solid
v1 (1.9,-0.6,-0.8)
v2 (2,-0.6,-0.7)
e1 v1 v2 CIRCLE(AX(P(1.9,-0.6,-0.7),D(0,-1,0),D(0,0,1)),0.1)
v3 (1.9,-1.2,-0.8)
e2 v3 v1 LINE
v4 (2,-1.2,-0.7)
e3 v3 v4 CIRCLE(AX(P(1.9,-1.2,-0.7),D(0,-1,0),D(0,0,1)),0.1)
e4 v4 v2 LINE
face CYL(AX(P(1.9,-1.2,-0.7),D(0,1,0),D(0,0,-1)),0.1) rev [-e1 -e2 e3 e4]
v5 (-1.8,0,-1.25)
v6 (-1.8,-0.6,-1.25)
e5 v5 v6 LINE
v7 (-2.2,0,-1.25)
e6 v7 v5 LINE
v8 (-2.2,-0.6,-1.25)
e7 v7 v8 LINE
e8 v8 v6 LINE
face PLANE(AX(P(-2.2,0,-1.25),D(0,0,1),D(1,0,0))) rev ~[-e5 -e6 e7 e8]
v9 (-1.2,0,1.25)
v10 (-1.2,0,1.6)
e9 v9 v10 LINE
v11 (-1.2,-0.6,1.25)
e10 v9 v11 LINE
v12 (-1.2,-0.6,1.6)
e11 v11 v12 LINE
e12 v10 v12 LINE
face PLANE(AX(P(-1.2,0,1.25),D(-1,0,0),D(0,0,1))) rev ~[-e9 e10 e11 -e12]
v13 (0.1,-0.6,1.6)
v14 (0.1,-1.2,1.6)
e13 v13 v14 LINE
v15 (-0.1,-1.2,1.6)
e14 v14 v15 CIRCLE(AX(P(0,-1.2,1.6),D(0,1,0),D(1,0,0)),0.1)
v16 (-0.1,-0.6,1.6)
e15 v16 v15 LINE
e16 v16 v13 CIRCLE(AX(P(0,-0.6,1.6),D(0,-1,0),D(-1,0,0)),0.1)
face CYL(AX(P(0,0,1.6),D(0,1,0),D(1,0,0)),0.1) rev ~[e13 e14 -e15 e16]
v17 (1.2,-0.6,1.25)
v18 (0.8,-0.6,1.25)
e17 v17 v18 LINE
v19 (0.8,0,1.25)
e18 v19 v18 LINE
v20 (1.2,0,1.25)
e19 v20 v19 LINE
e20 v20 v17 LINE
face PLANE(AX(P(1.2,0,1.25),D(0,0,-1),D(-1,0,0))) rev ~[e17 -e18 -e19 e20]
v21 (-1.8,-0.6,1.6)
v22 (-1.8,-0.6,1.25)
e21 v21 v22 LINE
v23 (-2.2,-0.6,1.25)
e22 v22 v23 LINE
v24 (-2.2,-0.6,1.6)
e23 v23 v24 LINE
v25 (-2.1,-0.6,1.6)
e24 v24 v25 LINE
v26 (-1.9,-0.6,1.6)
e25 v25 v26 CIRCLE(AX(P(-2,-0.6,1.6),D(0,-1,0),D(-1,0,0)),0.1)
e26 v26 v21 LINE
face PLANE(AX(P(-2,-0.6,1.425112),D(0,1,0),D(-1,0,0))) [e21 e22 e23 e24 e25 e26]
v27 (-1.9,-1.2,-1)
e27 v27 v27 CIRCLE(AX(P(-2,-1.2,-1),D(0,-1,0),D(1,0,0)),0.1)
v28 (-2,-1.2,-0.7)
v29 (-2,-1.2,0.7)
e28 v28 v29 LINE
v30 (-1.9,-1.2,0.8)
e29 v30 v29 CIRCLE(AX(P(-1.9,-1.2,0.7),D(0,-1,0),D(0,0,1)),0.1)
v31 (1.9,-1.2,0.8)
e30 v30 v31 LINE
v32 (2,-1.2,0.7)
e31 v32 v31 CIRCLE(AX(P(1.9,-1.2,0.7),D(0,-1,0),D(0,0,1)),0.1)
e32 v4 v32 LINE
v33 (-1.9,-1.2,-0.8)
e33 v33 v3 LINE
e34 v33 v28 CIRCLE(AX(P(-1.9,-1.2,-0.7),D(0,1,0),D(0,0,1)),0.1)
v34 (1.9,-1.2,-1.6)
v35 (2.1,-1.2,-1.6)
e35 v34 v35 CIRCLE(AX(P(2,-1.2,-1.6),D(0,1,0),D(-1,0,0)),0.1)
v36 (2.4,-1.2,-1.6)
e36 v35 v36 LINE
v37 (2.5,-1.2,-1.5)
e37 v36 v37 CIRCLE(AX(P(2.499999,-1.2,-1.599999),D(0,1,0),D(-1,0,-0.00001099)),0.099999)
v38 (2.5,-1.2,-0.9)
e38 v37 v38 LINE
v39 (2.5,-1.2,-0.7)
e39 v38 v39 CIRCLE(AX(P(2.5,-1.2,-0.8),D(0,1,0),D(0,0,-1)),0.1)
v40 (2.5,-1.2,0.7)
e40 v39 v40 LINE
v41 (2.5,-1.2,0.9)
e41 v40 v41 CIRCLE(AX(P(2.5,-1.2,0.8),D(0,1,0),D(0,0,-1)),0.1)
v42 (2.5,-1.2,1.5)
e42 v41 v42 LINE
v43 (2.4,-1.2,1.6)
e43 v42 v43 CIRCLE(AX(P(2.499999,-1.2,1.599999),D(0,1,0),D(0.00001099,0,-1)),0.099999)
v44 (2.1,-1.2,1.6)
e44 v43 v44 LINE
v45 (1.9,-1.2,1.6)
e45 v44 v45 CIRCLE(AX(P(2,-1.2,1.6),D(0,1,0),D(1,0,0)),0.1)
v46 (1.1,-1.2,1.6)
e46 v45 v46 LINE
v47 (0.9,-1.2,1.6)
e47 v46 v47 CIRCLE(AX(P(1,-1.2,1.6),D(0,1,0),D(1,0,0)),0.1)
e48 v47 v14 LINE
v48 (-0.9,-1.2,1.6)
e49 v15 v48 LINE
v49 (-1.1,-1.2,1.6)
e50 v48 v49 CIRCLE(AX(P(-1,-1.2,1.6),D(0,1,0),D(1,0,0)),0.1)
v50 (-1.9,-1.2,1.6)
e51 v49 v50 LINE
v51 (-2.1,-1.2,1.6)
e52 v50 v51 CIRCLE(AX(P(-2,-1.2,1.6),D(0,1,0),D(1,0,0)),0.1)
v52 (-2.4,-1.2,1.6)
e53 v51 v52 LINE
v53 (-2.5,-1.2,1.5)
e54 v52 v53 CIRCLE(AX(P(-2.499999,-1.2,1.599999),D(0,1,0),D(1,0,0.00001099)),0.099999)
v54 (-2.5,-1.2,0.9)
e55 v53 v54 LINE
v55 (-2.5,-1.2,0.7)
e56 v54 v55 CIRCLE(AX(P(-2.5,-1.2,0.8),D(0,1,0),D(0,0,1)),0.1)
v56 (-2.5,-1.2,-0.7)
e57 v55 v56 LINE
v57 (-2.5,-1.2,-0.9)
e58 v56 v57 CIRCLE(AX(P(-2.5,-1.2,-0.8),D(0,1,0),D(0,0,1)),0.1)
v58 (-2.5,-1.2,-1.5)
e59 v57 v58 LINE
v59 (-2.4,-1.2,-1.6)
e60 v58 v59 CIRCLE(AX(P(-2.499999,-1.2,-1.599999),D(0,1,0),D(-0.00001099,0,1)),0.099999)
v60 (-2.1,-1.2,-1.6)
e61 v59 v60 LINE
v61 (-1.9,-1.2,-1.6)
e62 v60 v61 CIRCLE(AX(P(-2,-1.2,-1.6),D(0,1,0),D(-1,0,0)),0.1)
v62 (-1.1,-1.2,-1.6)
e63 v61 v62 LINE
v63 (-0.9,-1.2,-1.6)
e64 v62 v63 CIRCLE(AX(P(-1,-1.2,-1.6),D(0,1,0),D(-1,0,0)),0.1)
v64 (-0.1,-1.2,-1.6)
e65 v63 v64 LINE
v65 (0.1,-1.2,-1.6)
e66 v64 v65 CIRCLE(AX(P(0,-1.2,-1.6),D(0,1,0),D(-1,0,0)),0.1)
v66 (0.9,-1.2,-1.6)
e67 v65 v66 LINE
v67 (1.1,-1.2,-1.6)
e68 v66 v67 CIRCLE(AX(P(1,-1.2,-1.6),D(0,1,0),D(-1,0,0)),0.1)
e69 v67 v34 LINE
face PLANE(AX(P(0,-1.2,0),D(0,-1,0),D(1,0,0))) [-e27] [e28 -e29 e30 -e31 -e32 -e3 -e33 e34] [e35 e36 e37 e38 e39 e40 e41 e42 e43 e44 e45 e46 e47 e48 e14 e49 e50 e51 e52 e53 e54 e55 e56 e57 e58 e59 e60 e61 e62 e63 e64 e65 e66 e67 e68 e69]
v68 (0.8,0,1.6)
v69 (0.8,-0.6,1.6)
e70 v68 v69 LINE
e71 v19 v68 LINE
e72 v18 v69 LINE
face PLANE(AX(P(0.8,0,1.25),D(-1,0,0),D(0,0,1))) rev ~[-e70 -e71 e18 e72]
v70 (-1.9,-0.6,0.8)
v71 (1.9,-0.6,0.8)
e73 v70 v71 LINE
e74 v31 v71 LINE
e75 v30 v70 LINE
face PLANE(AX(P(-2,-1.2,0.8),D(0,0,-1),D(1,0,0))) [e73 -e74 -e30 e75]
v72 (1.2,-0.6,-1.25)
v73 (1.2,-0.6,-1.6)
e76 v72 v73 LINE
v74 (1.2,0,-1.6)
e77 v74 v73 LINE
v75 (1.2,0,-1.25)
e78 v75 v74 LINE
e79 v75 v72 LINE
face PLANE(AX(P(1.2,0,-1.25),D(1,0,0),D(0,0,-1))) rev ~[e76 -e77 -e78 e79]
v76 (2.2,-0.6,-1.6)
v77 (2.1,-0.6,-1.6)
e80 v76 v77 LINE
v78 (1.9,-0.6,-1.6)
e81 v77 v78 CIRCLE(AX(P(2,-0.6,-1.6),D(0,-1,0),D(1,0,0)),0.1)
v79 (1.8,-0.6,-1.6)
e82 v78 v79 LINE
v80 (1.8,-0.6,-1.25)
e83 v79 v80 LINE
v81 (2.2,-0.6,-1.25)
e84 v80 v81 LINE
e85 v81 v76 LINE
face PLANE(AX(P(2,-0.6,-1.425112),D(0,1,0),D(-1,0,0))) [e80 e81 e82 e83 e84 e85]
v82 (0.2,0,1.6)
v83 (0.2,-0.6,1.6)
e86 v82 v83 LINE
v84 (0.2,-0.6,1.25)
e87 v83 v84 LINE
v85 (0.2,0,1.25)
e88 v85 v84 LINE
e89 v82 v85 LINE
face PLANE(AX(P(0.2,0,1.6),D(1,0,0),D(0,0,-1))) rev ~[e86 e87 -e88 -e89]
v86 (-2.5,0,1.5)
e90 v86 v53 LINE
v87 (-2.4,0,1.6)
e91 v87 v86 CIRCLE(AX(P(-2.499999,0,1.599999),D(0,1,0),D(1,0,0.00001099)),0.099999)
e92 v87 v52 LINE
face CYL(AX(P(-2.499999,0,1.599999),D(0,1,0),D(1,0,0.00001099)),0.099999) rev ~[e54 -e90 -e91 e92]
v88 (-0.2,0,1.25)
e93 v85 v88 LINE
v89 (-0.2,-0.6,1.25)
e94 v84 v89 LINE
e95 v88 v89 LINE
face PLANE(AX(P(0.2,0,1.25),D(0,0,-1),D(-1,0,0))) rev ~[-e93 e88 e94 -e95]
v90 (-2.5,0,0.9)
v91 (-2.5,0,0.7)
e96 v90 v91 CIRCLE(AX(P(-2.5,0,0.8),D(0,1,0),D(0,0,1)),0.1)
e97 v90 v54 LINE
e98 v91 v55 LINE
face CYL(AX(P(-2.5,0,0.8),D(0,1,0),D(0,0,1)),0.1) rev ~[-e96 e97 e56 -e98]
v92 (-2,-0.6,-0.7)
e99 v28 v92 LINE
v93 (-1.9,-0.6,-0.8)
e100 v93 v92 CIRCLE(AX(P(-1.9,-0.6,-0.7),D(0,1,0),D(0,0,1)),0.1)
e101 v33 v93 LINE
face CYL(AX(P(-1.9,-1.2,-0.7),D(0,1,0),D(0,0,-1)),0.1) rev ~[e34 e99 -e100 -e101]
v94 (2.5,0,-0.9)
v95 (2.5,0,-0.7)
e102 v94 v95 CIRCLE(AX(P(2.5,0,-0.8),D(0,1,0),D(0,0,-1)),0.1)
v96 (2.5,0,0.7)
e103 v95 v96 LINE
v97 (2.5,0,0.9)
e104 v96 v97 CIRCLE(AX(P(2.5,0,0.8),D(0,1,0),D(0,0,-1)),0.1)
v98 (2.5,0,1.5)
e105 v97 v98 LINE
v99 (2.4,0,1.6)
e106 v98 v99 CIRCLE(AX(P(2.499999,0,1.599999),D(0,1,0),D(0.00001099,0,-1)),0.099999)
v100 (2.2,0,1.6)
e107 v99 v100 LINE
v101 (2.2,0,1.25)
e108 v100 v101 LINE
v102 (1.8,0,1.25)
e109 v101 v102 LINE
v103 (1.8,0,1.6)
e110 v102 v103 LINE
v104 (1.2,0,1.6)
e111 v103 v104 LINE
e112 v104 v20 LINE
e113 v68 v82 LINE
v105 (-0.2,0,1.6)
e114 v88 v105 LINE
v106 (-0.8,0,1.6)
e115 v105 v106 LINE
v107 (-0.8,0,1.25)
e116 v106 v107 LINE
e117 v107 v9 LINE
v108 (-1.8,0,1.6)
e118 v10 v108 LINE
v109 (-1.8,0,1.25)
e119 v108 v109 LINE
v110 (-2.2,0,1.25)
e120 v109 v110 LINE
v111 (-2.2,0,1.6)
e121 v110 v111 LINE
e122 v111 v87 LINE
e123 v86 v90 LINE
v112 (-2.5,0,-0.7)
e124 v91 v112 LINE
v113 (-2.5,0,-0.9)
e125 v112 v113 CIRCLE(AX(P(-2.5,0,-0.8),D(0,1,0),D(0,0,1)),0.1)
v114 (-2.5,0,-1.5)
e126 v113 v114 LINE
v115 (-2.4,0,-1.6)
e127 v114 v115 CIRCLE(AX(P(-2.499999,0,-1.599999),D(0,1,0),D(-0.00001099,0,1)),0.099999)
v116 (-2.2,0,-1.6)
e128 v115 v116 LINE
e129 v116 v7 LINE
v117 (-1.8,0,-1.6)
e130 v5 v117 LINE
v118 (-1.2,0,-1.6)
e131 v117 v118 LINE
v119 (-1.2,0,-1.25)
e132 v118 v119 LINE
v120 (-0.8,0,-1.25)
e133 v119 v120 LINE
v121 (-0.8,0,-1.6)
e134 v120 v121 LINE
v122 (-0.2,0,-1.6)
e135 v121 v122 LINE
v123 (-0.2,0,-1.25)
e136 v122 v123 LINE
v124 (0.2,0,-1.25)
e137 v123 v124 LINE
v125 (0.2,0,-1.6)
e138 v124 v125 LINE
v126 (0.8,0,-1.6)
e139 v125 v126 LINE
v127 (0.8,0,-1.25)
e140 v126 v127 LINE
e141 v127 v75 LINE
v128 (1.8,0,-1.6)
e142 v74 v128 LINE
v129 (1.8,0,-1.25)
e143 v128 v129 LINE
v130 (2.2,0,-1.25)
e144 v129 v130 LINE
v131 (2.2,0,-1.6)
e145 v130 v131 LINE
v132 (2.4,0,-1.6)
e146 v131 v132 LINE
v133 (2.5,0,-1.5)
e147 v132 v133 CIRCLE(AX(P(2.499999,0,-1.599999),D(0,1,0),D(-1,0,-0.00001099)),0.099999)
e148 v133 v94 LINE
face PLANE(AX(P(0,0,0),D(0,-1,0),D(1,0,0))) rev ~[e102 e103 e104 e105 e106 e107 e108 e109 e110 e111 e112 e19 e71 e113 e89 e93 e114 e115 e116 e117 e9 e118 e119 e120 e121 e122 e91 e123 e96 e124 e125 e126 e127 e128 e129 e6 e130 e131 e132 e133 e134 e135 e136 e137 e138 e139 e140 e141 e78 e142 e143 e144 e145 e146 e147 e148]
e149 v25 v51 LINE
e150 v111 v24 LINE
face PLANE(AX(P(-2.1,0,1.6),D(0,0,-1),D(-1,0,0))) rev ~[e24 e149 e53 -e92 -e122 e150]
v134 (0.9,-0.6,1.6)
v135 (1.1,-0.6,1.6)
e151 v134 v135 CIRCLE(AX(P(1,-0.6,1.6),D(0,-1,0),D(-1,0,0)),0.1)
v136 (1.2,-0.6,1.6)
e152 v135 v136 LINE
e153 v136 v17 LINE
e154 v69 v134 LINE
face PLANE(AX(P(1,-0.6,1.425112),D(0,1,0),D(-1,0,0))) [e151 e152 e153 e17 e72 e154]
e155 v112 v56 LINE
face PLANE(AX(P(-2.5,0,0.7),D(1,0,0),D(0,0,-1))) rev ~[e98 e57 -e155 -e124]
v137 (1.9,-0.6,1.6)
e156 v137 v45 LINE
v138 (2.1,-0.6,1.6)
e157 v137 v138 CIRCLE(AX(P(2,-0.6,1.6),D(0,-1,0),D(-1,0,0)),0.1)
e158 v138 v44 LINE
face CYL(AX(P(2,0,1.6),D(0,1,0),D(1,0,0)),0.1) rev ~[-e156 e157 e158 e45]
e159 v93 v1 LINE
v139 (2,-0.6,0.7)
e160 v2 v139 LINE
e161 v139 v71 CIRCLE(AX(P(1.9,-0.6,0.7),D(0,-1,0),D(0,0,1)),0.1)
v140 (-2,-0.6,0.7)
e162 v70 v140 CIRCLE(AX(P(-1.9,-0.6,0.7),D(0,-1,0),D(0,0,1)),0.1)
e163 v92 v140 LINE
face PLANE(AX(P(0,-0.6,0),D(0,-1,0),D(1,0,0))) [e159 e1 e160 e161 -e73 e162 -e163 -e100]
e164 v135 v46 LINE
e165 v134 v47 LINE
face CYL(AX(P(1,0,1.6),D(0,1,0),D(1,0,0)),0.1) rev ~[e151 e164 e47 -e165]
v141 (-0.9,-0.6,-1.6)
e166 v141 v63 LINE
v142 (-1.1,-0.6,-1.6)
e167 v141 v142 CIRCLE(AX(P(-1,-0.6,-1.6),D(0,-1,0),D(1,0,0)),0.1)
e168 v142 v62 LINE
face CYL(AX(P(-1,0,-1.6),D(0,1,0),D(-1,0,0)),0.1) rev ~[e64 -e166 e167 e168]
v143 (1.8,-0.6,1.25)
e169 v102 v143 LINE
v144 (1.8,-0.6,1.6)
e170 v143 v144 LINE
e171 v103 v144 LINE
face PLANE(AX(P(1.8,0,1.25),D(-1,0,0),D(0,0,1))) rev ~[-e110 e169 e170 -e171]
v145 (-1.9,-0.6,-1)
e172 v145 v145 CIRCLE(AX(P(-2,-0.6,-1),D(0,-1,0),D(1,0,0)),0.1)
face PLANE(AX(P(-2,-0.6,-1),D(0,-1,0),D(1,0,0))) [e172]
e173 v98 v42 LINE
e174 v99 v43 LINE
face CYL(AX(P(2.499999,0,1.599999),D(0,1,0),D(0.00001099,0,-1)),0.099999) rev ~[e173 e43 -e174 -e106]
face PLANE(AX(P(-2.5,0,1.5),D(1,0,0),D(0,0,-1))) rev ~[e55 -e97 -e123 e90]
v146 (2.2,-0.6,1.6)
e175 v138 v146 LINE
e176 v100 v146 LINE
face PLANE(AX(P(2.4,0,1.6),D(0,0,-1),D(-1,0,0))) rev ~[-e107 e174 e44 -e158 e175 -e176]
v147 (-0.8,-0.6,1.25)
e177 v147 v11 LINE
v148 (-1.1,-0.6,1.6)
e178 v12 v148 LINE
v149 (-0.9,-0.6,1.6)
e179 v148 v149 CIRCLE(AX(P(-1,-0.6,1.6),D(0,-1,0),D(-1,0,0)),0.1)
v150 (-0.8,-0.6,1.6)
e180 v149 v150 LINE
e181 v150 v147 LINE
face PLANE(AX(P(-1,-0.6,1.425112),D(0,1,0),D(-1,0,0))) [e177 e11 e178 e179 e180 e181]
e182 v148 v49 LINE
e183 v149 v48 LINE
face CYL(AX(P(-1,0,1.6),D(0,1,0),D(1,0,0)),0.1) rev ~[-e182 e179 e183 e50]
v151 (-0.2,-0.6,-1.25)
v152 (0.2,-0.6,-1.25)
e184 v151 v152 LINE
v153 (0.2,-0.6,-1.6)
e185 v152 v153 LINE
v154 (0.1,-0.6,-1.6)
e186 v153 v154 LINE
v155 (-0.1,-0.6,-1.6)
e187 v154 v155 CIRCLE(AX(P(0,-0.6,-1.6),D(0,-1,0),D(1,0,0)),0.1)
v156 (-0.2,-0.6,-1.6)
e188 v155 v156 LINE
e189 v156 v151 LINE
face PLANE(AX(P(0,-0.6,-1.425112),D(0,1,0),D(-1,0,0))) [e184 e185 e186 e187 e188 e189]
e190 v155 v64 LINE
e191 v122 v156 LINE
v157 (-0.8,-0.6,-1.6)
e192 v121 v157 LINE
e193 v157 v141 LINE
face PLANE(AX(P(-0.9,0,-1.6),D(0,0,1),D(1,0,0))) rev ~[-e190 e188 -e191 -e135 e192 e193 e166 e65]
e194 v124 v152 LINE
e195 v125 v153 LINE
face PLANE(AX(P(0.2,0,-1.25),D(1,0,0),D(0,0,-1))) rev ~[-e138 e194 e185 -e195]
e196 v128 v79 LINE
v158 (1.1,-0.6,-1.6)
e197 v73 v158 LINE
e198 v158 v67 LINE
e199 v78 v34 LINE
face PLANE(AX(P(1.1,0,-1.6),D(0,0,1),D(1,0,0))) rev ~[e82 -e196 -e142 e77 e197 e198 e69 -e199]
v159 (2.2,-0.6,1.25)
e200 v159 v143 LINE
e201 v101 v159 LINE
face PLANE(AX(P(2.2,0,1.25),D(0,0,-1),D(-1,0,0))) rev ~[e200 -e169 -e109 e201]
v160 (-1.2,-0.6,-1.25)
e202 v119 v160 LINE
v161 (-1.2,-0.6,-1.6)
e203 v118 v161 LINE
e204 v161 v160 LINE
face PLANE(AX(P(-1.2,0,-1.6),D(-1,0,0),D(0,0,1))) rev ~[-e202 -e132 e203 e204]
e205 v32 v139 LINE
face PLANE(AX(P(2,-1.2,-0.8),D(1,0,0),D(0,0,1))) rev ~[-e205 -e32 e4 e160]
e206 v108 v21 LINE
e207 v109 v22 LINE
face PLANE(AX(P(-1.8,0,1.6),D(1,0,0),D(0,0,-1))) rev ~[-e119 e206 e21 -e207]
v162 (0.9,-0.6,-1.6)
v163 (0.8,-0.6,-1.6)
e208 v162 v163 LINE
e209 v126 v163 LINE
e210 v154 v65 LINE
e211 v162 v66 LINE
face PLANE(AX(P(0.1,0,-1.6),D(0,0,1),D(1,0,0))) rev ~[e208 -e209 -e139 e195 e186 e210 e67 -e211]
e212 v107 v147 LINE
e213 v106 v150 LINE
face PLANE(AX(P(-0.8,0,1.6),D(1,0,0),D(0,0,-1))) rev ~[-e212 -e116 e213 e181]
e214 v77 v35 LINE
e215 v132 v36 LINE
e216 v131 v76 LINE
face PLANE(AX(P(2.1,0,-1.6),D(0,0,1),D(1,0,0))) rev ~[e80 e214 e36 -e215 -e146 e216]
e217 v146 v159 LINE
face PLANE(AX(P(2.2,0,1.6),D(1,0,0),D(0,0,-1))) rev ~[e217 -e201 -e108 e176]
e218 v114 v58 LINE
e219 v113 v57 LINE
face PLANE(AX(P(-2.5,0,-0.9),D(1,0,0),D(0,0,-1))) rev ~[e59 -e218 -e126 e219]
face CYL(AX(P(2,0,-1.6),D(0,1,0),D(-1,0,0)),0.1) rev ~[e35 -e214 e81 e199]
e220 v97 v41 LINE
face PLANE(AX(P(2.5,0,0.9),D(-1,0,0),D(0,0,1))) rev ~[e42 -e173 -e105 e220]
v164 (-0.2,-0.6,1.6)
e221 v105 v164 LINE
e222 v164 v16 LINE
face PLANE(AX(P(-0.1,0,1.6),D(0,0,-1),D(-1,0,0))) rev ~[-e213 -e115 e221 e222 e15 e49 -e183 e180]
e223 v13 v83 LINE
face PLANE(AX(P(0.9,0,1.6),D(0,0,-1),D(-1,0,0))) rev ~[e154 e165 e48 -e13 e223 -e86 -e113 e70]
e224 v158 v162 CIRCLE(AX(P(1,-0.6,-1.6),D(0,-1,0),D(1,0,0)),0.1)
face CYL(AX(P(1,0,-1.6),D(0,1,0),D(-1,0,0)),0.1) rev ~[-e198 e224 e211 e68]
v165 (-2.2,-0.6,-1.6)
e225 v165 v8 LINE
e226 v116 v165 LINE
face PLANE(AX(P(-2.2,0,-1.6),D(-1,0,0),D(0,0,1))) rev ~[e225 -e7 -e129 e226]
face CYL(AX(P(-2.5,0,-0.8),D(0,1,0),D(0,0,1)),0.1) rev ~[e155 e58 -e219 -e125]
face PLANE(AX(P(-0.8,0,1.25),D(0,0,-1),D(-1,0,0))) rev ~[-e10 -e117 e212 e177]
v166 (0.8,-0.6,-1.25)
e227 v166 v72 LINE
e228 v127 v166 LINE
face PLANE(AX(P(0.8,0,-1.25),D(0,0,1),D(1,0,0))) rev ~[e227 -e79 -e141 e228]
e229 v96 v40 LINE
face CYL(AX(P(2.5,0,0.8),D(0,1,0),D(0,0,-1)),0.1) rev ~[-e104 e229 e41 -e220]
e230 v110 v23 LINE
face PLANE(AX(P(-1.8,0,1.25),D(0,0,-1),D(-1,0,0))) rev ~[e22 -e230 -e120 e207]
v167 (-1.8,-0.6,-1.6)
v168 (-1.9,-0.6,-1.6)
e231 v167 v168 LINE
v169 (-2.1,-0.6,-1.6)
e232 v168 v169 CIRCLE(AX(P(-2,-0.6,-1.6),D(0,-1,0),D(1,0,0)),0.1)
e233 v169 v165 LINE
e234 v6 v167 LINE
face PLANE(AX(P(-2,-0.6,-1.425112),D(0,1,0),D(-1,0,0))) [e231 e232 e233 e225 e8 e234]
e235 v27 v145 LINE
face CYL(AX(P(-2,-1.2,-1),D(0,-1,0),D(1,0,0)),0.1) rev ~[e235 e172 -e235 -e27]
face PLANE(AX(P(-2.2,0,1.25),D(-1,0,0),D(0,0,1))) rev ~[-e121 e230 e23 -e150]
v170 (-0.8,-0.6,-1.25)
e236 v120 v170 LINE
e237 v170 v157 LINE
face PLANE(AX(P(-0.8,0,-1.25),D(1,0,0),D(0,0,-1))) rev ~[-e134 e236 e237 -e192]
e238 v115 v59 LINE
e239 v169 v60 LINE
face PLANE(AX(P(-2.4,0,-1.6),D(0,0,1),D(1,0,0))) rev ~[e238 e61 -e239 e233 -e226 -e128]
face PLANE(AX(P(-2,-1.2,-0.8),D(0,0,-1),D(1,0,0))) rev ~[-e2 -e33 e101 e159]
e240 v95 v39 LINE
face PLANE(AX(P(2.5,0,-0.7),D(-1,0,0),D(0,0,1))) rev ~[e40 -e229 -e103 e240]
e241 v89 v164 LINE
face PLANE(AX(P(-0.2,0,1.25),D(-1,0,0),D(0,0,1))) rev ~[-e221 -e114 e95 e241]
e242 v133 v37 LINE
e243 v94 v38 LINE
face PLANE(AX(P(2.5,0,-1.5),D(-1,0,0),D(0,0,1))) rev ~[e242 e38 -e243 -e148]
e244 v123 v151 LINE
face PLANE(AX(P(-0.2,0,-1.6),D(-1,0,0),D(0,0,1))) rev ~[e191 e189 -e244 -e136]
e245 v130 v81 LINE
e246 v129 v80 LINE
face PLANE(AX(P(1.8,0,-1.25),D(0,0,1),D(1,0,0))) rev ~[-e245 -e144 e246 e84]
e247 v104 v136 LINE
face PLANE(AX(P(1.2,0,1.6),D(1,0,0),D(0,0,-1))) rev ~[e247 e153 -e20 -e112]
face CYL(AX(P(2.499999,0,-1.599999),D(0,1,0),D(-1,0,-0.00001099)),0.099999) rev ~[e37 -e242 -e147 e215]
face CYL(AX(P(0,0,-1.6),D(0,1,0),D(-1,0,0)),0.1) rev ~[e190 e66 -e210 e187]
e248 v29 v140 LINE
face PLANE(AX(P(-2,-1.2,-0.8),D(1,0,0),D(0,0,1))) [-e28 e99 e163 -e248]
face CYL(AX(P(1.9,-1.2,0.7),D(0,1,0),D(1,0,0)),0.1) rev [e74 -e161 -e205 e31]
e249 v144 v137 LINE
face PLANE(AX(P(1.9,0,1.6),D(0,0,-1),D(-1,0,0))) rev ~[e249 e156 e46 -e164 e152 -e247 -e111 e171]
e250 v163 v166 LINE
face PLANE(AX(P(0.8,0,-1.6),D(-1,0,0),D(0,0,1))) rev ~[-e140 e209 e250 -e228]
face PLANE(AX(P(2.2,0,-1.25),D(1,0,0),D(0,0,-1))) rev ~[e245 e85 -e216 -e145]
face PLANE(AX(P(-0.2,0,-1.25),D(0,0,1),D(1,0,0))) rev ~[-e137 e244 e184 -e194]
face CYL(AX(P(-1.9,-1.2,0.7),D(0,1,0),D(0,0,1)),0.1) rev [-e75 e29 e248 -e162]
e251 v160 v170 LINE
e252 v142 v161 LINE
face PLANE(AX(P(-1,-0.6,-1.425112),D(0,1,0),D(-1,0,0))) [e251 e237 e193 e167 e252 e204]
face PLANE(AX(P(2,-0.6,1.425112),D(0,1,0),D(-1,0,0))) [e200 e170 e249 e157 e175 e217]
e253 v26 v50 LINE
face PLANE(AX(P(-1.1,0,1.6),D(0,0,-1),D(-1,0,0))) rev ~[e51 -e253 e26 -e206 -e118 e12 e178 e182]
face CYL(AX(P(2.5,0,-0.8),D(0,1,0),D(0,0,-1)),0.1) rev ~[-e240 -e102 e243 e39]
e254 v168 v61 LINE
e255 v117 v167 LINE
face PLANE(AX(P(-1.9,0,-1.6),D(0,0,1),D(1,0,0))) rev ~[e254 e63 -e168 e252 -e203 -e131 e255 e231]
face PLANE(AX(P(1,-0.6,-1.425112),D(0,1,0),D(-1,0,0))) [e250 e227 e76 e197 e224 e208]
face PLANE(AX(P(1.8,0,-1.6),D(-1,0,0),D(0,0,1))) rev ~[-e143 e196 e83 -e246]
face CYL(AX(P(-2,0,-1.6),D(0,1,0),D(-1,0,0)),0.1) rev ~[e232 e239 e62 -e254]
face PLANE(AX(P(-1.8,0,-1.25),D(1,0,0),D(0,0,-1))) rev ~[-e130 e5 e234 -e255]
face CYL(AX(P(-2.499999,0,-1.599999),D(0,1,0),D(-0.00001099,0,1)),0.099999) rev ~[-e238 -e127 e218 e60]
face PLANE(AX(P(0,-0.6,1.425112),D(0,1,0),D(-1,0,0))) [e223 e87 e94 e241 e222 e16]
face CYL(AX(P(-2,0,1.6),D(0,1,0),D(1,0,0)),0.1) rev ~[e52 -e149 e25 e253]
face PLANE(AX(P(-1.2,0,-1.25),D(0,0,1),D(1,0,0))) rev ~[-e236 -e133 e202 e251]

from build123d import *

# Parameters (mm, degrees)
F1_DEPTH = 1.2
F2_R     = 0.1
F3_DEPTH = 0.6
F4_W     = 4
F4_H     = 1.6
F5_DEPTH = 0.6
F6_R     = 0.1
F8_DEPTH = 0.6


with BuildPart() as f1:
    # F0 (on Front) → F1 (new body)
    with BuildSketch(Plane.XZ):
        with BuildLine():
            Line((-2.1, 1.6), (-2.4, 1.6))
            ThreePointArc((-2.4, 1.6), (-2.429289, 1.529289), (-2.5, 1.5))
            Line((-2.5, 1.5), (-2.5, 0.9))
            ThreePointArc((-2.5, 0.9), (-2.4, 0.8), (-2.5, 0.7))
            Line((-2.5, 0.7), (-2.5, -0.7))
            ThreePointArc((-2.5, -0.7), (-2.4, -0.8), (-2.5, -0.9))
            Line((-2.5, -0.9), (-2.5, -1.5))
            ThreePointArc((-2.5, -1.5), (-2.429289, -1.529289), (-2.4, -1.6))
            Line((-2.4, -1.6), (-2.1, -1.6))
            ThreePointArc((-2.1, -1.6), (-2, -1.5), (-1.9, -1.6))
            Line((-1.9, -1.6), (-1.1, -1.6))
            ThreePointArc((-1.1, -1.6), (-1, -1.5), (-0.9, -1.6))
            Line((-0.9, -1.6), (-0.1, -1.6))
            ThreePointArc((-0.1, -1.6), (0, -1.5), (0.1, -1.6))
            Line((0.1, -1.6), (0.9, -1.6))
            ThreePointArc((0.9, -1.6), (1, -1.5), (1.1, -1.6))
            Line((1.1, -1.6), (1.9, -1.6))
            ThreePointArc((1.9, -1.6), (2, -1.5), (2.1, -1.6))
            Line((2.1, -1.6), (2.4, -1.6))
            ThreePointArc((2.4, -1.6), (2.429289, -1.529289), (2.5, -1.5))
            Line((2.5, -1.5), (2.5, -0.9))
            ThreePointArc((2.5, -0.9), (2.4, -0.8), (2.5, -0.7))
            Line((2.5, -0.7), (2.5, 0.7))
            ThreePointArc((2.5, 0.7), (2.4, 0.8), (2.5, 0.9))
            Line((2.5, 0.9), (2.5, 1.5))
            ThreePointArc((2.5, 1.5), (2.429289, 1.529289), (2.4, 1.6))
            Line((2.4, 1.6), (2.1, 1.6))
            ThreePointArc((2.1, 1.6), (2, 1.5), (1.9, 1.6))
            Line((1.9, 1.6), (1.1, 1.6))
            ThreePointArc((1.1, 1.6), (1, 1.5), (0.9, 1.6))
            Line((0.9, 1.6), (0.1, 1.6))
            ThreePointArc((0.1, 1.6), (0, 1.5), (-0.1, 1.6))
            Line((-0.1, 1.6), (-0.9, 1.6))
            ThreePointArc((-0.9, 1.6), (-1, 1.5), (-1.1, 1.6))
            Line((-1.1, 1.6), (-1.9, 1.6))
            ThreePointArc((-1.9, 1.6), (-2, 1.5), (-2.1, 1.6))
        make_face()
    extrude(amount=F1_DEPTH)

    # F2 (on face) → F3 (cut)
    with BuildSketch(Plane.XZ.offset(1.2)):
        with Locations((-2, -1)):
            Circle(F2_R)
    extrude(amount=-F3_DEPTH, mode=Mode.SUBTRACT)

    # F4 (on face) → F5 (cut)
    with BuildSketch(Plane.XZ.offset(1.2)):
        Rectangle(F4_W, F4_H)
    extrude(amount=-F5_DEPTH, mode=Mode.SUBTRACT)

    # F6
    f6_edges = [f1.edges().sort_by_distance(p)[0] for p in [
        (-2, -0.9, -0.8),
        (2, -0.9, 0.8),
        (2, -0.9, -0.8),
        (-2, -0.9, 0.8),
    ]]
    fillet(f6_edges, radius=F6_R)

    # F7 (on face) → F8 (cut)
    with BuildSketch(Plane(origin=(0, 0, 0), x_dir=(-1, 0, 0), z_dir=(0, 1, 0))):
        with BuildLine():
            Line((-1.8, 1.25), (-1.8, 1.6))
            Line((-1.8, 1.6), (-1.9, 1.6))
            ThreePointArc((-1.9, 1.6), (-2, 1.5), (-2.1, 1.6))
            Line((-2.1, 1.6), (-2.2, 1.6))
            Line((-2.2, 1.6), (-2.2, 1.25))
            Line((-2.2, 1.25), (-1.8, 1.25))
        make_face()
        with BuildLine():
            Line((-0.8, 1.25), (-0.8, 1.6))
            Line((-0.8, 1.6), (-0.9, 1.6))
            ThreePointArc((-0.9, 1.6), (-1, 1.5), (-1.1, 1.6))
            Line((-1.1, 1.6), (-1.2, 1.6))
            Line((-1.2, 1.6), (-1.2, 1.25))
            Line((-1.2, 1.25), (-0.8, 1.25))
        make_face()
        with BuildLine():
            Line((-0.1, 1.6), (-0.2, 1.6))
            Line((-0.2, 1.6), (-0.2, 1.25))
            Line((-0.2, 1.25), (0.2, 1.25))
            Line((0.2, 1.25), (0.2, 1.6))
            Line((0.2, 1.6), (0.1, 1.6))
            ThreePointArc((0.1, 1.6), (0, 1.5), (-0.1, 1.6))
        make_face()
        with BuildLine():
            Line((0.9, 1.6), (0.8, 1.6))
            Line((0.8, 1.6), (0.8, 1.25))
            Line((0.8, 1.25), (1.2, 1.25))
            Line((1.2, 1.25), (1.2, 1.6))
            Line((1.2, 1.6), (1.1, 1.6))
            ThreePointArc((1.1, 1.6), (1, 1.5), (0.9, 1.6))
        make_face()
        with BuildLine():
            Line((1.9, 1.6), (1.8, 1.6))
            Line((1.8, 1.6), (1.8, 1.25))
            Line((1.8, 1.25), (2.2, 1.25))
            Line((2.2, 1.25), (2.2, 1.6))
            Line((2.2, 1.6), (2.1, 1.6))
            ThreePointArc((2.1, 1.6), (2, 1.5), (1.9, 1.6))
        make_face()
        with BuildLine():
            Line((1.8, -1.25), (1.8, -1.6))
            Line((1.8, -1.6), (1.9, -1.6))
            ThreePointArc((1.9, -1.6), (2, -1.5), (2.1, -1.6))
            Line((2.1, -1.6), (2.2, -1.6))
            Line((2.2, -1.6), (2.2, -1.25))
            Line((2.2, -1.25), (1.8, -1.25))
        make_face()
        with BuildLine():
            Line((0.8, -1.25), (0.8, -1.6))
            Line((0.8, -1.6), (0.9, -1.6))
            ThreePointArc((0.9, -1.6), (1, -1.5), (1.1, -1.6))
            Line((1.1, -1.6), (1.2, -1.6))
            Line((1.2, -1.6), (1.2, -1.25))
            Line((1.2, -1.25), (0.8, -1.25))
        make_face()
        with BuildLine():
            Line((0.2, -1.25), (-0.2, -1.25))
            Line((-0.2, -1.25), (-0.2, -1.6))
            Line((-0.2, -1.6), (-0.1, -1.6))
            ThreePointArc((-0.1, -1.6), (0, -1.5), (0.1, -1.6))
            Line((0.1, -1.6), (0.2, -1.6))
            Line((0.2, -1.6), (0.2, -1.25))
        make_face()
        with BuildLine():
            Line((-0.9, -1.6), (-0.8, -1.6))
            Line((-0.8, -1.6), (-0.8, -1.25))
            Line((-0.8, -1.25), (-1.2, -1.25))
            Line((-1.2, -1.25), (-1.2, -1.6))
            Line((-1.2, -1.6), (-1.1, -1.6))
            ThreePointArc((-1.1, -1.6), (-1, -1.5), (-0.9, -1.6))
        make_face()
        with BuildLine():
            Line((-1.9, -1.6), (-1.8, -1.6))
            Line((-1.8, -1.6), (-1.8, -1.25))
            Line((-1.8, -1.25), (-2.2, -1.25))
            Line((-2.2, -1.25), (-2.2, -1.6))
            Line((-2.2, -1.6), (-2.1, -1.6))
            ThreePointArc((-2.1, -1.6), (-2, -1.5), (-1.9, -1.6))
        make_face()
    extrude(amount=-F8_DEPTH, mode=Mode.SUBTRACT)


solid = f1.part
